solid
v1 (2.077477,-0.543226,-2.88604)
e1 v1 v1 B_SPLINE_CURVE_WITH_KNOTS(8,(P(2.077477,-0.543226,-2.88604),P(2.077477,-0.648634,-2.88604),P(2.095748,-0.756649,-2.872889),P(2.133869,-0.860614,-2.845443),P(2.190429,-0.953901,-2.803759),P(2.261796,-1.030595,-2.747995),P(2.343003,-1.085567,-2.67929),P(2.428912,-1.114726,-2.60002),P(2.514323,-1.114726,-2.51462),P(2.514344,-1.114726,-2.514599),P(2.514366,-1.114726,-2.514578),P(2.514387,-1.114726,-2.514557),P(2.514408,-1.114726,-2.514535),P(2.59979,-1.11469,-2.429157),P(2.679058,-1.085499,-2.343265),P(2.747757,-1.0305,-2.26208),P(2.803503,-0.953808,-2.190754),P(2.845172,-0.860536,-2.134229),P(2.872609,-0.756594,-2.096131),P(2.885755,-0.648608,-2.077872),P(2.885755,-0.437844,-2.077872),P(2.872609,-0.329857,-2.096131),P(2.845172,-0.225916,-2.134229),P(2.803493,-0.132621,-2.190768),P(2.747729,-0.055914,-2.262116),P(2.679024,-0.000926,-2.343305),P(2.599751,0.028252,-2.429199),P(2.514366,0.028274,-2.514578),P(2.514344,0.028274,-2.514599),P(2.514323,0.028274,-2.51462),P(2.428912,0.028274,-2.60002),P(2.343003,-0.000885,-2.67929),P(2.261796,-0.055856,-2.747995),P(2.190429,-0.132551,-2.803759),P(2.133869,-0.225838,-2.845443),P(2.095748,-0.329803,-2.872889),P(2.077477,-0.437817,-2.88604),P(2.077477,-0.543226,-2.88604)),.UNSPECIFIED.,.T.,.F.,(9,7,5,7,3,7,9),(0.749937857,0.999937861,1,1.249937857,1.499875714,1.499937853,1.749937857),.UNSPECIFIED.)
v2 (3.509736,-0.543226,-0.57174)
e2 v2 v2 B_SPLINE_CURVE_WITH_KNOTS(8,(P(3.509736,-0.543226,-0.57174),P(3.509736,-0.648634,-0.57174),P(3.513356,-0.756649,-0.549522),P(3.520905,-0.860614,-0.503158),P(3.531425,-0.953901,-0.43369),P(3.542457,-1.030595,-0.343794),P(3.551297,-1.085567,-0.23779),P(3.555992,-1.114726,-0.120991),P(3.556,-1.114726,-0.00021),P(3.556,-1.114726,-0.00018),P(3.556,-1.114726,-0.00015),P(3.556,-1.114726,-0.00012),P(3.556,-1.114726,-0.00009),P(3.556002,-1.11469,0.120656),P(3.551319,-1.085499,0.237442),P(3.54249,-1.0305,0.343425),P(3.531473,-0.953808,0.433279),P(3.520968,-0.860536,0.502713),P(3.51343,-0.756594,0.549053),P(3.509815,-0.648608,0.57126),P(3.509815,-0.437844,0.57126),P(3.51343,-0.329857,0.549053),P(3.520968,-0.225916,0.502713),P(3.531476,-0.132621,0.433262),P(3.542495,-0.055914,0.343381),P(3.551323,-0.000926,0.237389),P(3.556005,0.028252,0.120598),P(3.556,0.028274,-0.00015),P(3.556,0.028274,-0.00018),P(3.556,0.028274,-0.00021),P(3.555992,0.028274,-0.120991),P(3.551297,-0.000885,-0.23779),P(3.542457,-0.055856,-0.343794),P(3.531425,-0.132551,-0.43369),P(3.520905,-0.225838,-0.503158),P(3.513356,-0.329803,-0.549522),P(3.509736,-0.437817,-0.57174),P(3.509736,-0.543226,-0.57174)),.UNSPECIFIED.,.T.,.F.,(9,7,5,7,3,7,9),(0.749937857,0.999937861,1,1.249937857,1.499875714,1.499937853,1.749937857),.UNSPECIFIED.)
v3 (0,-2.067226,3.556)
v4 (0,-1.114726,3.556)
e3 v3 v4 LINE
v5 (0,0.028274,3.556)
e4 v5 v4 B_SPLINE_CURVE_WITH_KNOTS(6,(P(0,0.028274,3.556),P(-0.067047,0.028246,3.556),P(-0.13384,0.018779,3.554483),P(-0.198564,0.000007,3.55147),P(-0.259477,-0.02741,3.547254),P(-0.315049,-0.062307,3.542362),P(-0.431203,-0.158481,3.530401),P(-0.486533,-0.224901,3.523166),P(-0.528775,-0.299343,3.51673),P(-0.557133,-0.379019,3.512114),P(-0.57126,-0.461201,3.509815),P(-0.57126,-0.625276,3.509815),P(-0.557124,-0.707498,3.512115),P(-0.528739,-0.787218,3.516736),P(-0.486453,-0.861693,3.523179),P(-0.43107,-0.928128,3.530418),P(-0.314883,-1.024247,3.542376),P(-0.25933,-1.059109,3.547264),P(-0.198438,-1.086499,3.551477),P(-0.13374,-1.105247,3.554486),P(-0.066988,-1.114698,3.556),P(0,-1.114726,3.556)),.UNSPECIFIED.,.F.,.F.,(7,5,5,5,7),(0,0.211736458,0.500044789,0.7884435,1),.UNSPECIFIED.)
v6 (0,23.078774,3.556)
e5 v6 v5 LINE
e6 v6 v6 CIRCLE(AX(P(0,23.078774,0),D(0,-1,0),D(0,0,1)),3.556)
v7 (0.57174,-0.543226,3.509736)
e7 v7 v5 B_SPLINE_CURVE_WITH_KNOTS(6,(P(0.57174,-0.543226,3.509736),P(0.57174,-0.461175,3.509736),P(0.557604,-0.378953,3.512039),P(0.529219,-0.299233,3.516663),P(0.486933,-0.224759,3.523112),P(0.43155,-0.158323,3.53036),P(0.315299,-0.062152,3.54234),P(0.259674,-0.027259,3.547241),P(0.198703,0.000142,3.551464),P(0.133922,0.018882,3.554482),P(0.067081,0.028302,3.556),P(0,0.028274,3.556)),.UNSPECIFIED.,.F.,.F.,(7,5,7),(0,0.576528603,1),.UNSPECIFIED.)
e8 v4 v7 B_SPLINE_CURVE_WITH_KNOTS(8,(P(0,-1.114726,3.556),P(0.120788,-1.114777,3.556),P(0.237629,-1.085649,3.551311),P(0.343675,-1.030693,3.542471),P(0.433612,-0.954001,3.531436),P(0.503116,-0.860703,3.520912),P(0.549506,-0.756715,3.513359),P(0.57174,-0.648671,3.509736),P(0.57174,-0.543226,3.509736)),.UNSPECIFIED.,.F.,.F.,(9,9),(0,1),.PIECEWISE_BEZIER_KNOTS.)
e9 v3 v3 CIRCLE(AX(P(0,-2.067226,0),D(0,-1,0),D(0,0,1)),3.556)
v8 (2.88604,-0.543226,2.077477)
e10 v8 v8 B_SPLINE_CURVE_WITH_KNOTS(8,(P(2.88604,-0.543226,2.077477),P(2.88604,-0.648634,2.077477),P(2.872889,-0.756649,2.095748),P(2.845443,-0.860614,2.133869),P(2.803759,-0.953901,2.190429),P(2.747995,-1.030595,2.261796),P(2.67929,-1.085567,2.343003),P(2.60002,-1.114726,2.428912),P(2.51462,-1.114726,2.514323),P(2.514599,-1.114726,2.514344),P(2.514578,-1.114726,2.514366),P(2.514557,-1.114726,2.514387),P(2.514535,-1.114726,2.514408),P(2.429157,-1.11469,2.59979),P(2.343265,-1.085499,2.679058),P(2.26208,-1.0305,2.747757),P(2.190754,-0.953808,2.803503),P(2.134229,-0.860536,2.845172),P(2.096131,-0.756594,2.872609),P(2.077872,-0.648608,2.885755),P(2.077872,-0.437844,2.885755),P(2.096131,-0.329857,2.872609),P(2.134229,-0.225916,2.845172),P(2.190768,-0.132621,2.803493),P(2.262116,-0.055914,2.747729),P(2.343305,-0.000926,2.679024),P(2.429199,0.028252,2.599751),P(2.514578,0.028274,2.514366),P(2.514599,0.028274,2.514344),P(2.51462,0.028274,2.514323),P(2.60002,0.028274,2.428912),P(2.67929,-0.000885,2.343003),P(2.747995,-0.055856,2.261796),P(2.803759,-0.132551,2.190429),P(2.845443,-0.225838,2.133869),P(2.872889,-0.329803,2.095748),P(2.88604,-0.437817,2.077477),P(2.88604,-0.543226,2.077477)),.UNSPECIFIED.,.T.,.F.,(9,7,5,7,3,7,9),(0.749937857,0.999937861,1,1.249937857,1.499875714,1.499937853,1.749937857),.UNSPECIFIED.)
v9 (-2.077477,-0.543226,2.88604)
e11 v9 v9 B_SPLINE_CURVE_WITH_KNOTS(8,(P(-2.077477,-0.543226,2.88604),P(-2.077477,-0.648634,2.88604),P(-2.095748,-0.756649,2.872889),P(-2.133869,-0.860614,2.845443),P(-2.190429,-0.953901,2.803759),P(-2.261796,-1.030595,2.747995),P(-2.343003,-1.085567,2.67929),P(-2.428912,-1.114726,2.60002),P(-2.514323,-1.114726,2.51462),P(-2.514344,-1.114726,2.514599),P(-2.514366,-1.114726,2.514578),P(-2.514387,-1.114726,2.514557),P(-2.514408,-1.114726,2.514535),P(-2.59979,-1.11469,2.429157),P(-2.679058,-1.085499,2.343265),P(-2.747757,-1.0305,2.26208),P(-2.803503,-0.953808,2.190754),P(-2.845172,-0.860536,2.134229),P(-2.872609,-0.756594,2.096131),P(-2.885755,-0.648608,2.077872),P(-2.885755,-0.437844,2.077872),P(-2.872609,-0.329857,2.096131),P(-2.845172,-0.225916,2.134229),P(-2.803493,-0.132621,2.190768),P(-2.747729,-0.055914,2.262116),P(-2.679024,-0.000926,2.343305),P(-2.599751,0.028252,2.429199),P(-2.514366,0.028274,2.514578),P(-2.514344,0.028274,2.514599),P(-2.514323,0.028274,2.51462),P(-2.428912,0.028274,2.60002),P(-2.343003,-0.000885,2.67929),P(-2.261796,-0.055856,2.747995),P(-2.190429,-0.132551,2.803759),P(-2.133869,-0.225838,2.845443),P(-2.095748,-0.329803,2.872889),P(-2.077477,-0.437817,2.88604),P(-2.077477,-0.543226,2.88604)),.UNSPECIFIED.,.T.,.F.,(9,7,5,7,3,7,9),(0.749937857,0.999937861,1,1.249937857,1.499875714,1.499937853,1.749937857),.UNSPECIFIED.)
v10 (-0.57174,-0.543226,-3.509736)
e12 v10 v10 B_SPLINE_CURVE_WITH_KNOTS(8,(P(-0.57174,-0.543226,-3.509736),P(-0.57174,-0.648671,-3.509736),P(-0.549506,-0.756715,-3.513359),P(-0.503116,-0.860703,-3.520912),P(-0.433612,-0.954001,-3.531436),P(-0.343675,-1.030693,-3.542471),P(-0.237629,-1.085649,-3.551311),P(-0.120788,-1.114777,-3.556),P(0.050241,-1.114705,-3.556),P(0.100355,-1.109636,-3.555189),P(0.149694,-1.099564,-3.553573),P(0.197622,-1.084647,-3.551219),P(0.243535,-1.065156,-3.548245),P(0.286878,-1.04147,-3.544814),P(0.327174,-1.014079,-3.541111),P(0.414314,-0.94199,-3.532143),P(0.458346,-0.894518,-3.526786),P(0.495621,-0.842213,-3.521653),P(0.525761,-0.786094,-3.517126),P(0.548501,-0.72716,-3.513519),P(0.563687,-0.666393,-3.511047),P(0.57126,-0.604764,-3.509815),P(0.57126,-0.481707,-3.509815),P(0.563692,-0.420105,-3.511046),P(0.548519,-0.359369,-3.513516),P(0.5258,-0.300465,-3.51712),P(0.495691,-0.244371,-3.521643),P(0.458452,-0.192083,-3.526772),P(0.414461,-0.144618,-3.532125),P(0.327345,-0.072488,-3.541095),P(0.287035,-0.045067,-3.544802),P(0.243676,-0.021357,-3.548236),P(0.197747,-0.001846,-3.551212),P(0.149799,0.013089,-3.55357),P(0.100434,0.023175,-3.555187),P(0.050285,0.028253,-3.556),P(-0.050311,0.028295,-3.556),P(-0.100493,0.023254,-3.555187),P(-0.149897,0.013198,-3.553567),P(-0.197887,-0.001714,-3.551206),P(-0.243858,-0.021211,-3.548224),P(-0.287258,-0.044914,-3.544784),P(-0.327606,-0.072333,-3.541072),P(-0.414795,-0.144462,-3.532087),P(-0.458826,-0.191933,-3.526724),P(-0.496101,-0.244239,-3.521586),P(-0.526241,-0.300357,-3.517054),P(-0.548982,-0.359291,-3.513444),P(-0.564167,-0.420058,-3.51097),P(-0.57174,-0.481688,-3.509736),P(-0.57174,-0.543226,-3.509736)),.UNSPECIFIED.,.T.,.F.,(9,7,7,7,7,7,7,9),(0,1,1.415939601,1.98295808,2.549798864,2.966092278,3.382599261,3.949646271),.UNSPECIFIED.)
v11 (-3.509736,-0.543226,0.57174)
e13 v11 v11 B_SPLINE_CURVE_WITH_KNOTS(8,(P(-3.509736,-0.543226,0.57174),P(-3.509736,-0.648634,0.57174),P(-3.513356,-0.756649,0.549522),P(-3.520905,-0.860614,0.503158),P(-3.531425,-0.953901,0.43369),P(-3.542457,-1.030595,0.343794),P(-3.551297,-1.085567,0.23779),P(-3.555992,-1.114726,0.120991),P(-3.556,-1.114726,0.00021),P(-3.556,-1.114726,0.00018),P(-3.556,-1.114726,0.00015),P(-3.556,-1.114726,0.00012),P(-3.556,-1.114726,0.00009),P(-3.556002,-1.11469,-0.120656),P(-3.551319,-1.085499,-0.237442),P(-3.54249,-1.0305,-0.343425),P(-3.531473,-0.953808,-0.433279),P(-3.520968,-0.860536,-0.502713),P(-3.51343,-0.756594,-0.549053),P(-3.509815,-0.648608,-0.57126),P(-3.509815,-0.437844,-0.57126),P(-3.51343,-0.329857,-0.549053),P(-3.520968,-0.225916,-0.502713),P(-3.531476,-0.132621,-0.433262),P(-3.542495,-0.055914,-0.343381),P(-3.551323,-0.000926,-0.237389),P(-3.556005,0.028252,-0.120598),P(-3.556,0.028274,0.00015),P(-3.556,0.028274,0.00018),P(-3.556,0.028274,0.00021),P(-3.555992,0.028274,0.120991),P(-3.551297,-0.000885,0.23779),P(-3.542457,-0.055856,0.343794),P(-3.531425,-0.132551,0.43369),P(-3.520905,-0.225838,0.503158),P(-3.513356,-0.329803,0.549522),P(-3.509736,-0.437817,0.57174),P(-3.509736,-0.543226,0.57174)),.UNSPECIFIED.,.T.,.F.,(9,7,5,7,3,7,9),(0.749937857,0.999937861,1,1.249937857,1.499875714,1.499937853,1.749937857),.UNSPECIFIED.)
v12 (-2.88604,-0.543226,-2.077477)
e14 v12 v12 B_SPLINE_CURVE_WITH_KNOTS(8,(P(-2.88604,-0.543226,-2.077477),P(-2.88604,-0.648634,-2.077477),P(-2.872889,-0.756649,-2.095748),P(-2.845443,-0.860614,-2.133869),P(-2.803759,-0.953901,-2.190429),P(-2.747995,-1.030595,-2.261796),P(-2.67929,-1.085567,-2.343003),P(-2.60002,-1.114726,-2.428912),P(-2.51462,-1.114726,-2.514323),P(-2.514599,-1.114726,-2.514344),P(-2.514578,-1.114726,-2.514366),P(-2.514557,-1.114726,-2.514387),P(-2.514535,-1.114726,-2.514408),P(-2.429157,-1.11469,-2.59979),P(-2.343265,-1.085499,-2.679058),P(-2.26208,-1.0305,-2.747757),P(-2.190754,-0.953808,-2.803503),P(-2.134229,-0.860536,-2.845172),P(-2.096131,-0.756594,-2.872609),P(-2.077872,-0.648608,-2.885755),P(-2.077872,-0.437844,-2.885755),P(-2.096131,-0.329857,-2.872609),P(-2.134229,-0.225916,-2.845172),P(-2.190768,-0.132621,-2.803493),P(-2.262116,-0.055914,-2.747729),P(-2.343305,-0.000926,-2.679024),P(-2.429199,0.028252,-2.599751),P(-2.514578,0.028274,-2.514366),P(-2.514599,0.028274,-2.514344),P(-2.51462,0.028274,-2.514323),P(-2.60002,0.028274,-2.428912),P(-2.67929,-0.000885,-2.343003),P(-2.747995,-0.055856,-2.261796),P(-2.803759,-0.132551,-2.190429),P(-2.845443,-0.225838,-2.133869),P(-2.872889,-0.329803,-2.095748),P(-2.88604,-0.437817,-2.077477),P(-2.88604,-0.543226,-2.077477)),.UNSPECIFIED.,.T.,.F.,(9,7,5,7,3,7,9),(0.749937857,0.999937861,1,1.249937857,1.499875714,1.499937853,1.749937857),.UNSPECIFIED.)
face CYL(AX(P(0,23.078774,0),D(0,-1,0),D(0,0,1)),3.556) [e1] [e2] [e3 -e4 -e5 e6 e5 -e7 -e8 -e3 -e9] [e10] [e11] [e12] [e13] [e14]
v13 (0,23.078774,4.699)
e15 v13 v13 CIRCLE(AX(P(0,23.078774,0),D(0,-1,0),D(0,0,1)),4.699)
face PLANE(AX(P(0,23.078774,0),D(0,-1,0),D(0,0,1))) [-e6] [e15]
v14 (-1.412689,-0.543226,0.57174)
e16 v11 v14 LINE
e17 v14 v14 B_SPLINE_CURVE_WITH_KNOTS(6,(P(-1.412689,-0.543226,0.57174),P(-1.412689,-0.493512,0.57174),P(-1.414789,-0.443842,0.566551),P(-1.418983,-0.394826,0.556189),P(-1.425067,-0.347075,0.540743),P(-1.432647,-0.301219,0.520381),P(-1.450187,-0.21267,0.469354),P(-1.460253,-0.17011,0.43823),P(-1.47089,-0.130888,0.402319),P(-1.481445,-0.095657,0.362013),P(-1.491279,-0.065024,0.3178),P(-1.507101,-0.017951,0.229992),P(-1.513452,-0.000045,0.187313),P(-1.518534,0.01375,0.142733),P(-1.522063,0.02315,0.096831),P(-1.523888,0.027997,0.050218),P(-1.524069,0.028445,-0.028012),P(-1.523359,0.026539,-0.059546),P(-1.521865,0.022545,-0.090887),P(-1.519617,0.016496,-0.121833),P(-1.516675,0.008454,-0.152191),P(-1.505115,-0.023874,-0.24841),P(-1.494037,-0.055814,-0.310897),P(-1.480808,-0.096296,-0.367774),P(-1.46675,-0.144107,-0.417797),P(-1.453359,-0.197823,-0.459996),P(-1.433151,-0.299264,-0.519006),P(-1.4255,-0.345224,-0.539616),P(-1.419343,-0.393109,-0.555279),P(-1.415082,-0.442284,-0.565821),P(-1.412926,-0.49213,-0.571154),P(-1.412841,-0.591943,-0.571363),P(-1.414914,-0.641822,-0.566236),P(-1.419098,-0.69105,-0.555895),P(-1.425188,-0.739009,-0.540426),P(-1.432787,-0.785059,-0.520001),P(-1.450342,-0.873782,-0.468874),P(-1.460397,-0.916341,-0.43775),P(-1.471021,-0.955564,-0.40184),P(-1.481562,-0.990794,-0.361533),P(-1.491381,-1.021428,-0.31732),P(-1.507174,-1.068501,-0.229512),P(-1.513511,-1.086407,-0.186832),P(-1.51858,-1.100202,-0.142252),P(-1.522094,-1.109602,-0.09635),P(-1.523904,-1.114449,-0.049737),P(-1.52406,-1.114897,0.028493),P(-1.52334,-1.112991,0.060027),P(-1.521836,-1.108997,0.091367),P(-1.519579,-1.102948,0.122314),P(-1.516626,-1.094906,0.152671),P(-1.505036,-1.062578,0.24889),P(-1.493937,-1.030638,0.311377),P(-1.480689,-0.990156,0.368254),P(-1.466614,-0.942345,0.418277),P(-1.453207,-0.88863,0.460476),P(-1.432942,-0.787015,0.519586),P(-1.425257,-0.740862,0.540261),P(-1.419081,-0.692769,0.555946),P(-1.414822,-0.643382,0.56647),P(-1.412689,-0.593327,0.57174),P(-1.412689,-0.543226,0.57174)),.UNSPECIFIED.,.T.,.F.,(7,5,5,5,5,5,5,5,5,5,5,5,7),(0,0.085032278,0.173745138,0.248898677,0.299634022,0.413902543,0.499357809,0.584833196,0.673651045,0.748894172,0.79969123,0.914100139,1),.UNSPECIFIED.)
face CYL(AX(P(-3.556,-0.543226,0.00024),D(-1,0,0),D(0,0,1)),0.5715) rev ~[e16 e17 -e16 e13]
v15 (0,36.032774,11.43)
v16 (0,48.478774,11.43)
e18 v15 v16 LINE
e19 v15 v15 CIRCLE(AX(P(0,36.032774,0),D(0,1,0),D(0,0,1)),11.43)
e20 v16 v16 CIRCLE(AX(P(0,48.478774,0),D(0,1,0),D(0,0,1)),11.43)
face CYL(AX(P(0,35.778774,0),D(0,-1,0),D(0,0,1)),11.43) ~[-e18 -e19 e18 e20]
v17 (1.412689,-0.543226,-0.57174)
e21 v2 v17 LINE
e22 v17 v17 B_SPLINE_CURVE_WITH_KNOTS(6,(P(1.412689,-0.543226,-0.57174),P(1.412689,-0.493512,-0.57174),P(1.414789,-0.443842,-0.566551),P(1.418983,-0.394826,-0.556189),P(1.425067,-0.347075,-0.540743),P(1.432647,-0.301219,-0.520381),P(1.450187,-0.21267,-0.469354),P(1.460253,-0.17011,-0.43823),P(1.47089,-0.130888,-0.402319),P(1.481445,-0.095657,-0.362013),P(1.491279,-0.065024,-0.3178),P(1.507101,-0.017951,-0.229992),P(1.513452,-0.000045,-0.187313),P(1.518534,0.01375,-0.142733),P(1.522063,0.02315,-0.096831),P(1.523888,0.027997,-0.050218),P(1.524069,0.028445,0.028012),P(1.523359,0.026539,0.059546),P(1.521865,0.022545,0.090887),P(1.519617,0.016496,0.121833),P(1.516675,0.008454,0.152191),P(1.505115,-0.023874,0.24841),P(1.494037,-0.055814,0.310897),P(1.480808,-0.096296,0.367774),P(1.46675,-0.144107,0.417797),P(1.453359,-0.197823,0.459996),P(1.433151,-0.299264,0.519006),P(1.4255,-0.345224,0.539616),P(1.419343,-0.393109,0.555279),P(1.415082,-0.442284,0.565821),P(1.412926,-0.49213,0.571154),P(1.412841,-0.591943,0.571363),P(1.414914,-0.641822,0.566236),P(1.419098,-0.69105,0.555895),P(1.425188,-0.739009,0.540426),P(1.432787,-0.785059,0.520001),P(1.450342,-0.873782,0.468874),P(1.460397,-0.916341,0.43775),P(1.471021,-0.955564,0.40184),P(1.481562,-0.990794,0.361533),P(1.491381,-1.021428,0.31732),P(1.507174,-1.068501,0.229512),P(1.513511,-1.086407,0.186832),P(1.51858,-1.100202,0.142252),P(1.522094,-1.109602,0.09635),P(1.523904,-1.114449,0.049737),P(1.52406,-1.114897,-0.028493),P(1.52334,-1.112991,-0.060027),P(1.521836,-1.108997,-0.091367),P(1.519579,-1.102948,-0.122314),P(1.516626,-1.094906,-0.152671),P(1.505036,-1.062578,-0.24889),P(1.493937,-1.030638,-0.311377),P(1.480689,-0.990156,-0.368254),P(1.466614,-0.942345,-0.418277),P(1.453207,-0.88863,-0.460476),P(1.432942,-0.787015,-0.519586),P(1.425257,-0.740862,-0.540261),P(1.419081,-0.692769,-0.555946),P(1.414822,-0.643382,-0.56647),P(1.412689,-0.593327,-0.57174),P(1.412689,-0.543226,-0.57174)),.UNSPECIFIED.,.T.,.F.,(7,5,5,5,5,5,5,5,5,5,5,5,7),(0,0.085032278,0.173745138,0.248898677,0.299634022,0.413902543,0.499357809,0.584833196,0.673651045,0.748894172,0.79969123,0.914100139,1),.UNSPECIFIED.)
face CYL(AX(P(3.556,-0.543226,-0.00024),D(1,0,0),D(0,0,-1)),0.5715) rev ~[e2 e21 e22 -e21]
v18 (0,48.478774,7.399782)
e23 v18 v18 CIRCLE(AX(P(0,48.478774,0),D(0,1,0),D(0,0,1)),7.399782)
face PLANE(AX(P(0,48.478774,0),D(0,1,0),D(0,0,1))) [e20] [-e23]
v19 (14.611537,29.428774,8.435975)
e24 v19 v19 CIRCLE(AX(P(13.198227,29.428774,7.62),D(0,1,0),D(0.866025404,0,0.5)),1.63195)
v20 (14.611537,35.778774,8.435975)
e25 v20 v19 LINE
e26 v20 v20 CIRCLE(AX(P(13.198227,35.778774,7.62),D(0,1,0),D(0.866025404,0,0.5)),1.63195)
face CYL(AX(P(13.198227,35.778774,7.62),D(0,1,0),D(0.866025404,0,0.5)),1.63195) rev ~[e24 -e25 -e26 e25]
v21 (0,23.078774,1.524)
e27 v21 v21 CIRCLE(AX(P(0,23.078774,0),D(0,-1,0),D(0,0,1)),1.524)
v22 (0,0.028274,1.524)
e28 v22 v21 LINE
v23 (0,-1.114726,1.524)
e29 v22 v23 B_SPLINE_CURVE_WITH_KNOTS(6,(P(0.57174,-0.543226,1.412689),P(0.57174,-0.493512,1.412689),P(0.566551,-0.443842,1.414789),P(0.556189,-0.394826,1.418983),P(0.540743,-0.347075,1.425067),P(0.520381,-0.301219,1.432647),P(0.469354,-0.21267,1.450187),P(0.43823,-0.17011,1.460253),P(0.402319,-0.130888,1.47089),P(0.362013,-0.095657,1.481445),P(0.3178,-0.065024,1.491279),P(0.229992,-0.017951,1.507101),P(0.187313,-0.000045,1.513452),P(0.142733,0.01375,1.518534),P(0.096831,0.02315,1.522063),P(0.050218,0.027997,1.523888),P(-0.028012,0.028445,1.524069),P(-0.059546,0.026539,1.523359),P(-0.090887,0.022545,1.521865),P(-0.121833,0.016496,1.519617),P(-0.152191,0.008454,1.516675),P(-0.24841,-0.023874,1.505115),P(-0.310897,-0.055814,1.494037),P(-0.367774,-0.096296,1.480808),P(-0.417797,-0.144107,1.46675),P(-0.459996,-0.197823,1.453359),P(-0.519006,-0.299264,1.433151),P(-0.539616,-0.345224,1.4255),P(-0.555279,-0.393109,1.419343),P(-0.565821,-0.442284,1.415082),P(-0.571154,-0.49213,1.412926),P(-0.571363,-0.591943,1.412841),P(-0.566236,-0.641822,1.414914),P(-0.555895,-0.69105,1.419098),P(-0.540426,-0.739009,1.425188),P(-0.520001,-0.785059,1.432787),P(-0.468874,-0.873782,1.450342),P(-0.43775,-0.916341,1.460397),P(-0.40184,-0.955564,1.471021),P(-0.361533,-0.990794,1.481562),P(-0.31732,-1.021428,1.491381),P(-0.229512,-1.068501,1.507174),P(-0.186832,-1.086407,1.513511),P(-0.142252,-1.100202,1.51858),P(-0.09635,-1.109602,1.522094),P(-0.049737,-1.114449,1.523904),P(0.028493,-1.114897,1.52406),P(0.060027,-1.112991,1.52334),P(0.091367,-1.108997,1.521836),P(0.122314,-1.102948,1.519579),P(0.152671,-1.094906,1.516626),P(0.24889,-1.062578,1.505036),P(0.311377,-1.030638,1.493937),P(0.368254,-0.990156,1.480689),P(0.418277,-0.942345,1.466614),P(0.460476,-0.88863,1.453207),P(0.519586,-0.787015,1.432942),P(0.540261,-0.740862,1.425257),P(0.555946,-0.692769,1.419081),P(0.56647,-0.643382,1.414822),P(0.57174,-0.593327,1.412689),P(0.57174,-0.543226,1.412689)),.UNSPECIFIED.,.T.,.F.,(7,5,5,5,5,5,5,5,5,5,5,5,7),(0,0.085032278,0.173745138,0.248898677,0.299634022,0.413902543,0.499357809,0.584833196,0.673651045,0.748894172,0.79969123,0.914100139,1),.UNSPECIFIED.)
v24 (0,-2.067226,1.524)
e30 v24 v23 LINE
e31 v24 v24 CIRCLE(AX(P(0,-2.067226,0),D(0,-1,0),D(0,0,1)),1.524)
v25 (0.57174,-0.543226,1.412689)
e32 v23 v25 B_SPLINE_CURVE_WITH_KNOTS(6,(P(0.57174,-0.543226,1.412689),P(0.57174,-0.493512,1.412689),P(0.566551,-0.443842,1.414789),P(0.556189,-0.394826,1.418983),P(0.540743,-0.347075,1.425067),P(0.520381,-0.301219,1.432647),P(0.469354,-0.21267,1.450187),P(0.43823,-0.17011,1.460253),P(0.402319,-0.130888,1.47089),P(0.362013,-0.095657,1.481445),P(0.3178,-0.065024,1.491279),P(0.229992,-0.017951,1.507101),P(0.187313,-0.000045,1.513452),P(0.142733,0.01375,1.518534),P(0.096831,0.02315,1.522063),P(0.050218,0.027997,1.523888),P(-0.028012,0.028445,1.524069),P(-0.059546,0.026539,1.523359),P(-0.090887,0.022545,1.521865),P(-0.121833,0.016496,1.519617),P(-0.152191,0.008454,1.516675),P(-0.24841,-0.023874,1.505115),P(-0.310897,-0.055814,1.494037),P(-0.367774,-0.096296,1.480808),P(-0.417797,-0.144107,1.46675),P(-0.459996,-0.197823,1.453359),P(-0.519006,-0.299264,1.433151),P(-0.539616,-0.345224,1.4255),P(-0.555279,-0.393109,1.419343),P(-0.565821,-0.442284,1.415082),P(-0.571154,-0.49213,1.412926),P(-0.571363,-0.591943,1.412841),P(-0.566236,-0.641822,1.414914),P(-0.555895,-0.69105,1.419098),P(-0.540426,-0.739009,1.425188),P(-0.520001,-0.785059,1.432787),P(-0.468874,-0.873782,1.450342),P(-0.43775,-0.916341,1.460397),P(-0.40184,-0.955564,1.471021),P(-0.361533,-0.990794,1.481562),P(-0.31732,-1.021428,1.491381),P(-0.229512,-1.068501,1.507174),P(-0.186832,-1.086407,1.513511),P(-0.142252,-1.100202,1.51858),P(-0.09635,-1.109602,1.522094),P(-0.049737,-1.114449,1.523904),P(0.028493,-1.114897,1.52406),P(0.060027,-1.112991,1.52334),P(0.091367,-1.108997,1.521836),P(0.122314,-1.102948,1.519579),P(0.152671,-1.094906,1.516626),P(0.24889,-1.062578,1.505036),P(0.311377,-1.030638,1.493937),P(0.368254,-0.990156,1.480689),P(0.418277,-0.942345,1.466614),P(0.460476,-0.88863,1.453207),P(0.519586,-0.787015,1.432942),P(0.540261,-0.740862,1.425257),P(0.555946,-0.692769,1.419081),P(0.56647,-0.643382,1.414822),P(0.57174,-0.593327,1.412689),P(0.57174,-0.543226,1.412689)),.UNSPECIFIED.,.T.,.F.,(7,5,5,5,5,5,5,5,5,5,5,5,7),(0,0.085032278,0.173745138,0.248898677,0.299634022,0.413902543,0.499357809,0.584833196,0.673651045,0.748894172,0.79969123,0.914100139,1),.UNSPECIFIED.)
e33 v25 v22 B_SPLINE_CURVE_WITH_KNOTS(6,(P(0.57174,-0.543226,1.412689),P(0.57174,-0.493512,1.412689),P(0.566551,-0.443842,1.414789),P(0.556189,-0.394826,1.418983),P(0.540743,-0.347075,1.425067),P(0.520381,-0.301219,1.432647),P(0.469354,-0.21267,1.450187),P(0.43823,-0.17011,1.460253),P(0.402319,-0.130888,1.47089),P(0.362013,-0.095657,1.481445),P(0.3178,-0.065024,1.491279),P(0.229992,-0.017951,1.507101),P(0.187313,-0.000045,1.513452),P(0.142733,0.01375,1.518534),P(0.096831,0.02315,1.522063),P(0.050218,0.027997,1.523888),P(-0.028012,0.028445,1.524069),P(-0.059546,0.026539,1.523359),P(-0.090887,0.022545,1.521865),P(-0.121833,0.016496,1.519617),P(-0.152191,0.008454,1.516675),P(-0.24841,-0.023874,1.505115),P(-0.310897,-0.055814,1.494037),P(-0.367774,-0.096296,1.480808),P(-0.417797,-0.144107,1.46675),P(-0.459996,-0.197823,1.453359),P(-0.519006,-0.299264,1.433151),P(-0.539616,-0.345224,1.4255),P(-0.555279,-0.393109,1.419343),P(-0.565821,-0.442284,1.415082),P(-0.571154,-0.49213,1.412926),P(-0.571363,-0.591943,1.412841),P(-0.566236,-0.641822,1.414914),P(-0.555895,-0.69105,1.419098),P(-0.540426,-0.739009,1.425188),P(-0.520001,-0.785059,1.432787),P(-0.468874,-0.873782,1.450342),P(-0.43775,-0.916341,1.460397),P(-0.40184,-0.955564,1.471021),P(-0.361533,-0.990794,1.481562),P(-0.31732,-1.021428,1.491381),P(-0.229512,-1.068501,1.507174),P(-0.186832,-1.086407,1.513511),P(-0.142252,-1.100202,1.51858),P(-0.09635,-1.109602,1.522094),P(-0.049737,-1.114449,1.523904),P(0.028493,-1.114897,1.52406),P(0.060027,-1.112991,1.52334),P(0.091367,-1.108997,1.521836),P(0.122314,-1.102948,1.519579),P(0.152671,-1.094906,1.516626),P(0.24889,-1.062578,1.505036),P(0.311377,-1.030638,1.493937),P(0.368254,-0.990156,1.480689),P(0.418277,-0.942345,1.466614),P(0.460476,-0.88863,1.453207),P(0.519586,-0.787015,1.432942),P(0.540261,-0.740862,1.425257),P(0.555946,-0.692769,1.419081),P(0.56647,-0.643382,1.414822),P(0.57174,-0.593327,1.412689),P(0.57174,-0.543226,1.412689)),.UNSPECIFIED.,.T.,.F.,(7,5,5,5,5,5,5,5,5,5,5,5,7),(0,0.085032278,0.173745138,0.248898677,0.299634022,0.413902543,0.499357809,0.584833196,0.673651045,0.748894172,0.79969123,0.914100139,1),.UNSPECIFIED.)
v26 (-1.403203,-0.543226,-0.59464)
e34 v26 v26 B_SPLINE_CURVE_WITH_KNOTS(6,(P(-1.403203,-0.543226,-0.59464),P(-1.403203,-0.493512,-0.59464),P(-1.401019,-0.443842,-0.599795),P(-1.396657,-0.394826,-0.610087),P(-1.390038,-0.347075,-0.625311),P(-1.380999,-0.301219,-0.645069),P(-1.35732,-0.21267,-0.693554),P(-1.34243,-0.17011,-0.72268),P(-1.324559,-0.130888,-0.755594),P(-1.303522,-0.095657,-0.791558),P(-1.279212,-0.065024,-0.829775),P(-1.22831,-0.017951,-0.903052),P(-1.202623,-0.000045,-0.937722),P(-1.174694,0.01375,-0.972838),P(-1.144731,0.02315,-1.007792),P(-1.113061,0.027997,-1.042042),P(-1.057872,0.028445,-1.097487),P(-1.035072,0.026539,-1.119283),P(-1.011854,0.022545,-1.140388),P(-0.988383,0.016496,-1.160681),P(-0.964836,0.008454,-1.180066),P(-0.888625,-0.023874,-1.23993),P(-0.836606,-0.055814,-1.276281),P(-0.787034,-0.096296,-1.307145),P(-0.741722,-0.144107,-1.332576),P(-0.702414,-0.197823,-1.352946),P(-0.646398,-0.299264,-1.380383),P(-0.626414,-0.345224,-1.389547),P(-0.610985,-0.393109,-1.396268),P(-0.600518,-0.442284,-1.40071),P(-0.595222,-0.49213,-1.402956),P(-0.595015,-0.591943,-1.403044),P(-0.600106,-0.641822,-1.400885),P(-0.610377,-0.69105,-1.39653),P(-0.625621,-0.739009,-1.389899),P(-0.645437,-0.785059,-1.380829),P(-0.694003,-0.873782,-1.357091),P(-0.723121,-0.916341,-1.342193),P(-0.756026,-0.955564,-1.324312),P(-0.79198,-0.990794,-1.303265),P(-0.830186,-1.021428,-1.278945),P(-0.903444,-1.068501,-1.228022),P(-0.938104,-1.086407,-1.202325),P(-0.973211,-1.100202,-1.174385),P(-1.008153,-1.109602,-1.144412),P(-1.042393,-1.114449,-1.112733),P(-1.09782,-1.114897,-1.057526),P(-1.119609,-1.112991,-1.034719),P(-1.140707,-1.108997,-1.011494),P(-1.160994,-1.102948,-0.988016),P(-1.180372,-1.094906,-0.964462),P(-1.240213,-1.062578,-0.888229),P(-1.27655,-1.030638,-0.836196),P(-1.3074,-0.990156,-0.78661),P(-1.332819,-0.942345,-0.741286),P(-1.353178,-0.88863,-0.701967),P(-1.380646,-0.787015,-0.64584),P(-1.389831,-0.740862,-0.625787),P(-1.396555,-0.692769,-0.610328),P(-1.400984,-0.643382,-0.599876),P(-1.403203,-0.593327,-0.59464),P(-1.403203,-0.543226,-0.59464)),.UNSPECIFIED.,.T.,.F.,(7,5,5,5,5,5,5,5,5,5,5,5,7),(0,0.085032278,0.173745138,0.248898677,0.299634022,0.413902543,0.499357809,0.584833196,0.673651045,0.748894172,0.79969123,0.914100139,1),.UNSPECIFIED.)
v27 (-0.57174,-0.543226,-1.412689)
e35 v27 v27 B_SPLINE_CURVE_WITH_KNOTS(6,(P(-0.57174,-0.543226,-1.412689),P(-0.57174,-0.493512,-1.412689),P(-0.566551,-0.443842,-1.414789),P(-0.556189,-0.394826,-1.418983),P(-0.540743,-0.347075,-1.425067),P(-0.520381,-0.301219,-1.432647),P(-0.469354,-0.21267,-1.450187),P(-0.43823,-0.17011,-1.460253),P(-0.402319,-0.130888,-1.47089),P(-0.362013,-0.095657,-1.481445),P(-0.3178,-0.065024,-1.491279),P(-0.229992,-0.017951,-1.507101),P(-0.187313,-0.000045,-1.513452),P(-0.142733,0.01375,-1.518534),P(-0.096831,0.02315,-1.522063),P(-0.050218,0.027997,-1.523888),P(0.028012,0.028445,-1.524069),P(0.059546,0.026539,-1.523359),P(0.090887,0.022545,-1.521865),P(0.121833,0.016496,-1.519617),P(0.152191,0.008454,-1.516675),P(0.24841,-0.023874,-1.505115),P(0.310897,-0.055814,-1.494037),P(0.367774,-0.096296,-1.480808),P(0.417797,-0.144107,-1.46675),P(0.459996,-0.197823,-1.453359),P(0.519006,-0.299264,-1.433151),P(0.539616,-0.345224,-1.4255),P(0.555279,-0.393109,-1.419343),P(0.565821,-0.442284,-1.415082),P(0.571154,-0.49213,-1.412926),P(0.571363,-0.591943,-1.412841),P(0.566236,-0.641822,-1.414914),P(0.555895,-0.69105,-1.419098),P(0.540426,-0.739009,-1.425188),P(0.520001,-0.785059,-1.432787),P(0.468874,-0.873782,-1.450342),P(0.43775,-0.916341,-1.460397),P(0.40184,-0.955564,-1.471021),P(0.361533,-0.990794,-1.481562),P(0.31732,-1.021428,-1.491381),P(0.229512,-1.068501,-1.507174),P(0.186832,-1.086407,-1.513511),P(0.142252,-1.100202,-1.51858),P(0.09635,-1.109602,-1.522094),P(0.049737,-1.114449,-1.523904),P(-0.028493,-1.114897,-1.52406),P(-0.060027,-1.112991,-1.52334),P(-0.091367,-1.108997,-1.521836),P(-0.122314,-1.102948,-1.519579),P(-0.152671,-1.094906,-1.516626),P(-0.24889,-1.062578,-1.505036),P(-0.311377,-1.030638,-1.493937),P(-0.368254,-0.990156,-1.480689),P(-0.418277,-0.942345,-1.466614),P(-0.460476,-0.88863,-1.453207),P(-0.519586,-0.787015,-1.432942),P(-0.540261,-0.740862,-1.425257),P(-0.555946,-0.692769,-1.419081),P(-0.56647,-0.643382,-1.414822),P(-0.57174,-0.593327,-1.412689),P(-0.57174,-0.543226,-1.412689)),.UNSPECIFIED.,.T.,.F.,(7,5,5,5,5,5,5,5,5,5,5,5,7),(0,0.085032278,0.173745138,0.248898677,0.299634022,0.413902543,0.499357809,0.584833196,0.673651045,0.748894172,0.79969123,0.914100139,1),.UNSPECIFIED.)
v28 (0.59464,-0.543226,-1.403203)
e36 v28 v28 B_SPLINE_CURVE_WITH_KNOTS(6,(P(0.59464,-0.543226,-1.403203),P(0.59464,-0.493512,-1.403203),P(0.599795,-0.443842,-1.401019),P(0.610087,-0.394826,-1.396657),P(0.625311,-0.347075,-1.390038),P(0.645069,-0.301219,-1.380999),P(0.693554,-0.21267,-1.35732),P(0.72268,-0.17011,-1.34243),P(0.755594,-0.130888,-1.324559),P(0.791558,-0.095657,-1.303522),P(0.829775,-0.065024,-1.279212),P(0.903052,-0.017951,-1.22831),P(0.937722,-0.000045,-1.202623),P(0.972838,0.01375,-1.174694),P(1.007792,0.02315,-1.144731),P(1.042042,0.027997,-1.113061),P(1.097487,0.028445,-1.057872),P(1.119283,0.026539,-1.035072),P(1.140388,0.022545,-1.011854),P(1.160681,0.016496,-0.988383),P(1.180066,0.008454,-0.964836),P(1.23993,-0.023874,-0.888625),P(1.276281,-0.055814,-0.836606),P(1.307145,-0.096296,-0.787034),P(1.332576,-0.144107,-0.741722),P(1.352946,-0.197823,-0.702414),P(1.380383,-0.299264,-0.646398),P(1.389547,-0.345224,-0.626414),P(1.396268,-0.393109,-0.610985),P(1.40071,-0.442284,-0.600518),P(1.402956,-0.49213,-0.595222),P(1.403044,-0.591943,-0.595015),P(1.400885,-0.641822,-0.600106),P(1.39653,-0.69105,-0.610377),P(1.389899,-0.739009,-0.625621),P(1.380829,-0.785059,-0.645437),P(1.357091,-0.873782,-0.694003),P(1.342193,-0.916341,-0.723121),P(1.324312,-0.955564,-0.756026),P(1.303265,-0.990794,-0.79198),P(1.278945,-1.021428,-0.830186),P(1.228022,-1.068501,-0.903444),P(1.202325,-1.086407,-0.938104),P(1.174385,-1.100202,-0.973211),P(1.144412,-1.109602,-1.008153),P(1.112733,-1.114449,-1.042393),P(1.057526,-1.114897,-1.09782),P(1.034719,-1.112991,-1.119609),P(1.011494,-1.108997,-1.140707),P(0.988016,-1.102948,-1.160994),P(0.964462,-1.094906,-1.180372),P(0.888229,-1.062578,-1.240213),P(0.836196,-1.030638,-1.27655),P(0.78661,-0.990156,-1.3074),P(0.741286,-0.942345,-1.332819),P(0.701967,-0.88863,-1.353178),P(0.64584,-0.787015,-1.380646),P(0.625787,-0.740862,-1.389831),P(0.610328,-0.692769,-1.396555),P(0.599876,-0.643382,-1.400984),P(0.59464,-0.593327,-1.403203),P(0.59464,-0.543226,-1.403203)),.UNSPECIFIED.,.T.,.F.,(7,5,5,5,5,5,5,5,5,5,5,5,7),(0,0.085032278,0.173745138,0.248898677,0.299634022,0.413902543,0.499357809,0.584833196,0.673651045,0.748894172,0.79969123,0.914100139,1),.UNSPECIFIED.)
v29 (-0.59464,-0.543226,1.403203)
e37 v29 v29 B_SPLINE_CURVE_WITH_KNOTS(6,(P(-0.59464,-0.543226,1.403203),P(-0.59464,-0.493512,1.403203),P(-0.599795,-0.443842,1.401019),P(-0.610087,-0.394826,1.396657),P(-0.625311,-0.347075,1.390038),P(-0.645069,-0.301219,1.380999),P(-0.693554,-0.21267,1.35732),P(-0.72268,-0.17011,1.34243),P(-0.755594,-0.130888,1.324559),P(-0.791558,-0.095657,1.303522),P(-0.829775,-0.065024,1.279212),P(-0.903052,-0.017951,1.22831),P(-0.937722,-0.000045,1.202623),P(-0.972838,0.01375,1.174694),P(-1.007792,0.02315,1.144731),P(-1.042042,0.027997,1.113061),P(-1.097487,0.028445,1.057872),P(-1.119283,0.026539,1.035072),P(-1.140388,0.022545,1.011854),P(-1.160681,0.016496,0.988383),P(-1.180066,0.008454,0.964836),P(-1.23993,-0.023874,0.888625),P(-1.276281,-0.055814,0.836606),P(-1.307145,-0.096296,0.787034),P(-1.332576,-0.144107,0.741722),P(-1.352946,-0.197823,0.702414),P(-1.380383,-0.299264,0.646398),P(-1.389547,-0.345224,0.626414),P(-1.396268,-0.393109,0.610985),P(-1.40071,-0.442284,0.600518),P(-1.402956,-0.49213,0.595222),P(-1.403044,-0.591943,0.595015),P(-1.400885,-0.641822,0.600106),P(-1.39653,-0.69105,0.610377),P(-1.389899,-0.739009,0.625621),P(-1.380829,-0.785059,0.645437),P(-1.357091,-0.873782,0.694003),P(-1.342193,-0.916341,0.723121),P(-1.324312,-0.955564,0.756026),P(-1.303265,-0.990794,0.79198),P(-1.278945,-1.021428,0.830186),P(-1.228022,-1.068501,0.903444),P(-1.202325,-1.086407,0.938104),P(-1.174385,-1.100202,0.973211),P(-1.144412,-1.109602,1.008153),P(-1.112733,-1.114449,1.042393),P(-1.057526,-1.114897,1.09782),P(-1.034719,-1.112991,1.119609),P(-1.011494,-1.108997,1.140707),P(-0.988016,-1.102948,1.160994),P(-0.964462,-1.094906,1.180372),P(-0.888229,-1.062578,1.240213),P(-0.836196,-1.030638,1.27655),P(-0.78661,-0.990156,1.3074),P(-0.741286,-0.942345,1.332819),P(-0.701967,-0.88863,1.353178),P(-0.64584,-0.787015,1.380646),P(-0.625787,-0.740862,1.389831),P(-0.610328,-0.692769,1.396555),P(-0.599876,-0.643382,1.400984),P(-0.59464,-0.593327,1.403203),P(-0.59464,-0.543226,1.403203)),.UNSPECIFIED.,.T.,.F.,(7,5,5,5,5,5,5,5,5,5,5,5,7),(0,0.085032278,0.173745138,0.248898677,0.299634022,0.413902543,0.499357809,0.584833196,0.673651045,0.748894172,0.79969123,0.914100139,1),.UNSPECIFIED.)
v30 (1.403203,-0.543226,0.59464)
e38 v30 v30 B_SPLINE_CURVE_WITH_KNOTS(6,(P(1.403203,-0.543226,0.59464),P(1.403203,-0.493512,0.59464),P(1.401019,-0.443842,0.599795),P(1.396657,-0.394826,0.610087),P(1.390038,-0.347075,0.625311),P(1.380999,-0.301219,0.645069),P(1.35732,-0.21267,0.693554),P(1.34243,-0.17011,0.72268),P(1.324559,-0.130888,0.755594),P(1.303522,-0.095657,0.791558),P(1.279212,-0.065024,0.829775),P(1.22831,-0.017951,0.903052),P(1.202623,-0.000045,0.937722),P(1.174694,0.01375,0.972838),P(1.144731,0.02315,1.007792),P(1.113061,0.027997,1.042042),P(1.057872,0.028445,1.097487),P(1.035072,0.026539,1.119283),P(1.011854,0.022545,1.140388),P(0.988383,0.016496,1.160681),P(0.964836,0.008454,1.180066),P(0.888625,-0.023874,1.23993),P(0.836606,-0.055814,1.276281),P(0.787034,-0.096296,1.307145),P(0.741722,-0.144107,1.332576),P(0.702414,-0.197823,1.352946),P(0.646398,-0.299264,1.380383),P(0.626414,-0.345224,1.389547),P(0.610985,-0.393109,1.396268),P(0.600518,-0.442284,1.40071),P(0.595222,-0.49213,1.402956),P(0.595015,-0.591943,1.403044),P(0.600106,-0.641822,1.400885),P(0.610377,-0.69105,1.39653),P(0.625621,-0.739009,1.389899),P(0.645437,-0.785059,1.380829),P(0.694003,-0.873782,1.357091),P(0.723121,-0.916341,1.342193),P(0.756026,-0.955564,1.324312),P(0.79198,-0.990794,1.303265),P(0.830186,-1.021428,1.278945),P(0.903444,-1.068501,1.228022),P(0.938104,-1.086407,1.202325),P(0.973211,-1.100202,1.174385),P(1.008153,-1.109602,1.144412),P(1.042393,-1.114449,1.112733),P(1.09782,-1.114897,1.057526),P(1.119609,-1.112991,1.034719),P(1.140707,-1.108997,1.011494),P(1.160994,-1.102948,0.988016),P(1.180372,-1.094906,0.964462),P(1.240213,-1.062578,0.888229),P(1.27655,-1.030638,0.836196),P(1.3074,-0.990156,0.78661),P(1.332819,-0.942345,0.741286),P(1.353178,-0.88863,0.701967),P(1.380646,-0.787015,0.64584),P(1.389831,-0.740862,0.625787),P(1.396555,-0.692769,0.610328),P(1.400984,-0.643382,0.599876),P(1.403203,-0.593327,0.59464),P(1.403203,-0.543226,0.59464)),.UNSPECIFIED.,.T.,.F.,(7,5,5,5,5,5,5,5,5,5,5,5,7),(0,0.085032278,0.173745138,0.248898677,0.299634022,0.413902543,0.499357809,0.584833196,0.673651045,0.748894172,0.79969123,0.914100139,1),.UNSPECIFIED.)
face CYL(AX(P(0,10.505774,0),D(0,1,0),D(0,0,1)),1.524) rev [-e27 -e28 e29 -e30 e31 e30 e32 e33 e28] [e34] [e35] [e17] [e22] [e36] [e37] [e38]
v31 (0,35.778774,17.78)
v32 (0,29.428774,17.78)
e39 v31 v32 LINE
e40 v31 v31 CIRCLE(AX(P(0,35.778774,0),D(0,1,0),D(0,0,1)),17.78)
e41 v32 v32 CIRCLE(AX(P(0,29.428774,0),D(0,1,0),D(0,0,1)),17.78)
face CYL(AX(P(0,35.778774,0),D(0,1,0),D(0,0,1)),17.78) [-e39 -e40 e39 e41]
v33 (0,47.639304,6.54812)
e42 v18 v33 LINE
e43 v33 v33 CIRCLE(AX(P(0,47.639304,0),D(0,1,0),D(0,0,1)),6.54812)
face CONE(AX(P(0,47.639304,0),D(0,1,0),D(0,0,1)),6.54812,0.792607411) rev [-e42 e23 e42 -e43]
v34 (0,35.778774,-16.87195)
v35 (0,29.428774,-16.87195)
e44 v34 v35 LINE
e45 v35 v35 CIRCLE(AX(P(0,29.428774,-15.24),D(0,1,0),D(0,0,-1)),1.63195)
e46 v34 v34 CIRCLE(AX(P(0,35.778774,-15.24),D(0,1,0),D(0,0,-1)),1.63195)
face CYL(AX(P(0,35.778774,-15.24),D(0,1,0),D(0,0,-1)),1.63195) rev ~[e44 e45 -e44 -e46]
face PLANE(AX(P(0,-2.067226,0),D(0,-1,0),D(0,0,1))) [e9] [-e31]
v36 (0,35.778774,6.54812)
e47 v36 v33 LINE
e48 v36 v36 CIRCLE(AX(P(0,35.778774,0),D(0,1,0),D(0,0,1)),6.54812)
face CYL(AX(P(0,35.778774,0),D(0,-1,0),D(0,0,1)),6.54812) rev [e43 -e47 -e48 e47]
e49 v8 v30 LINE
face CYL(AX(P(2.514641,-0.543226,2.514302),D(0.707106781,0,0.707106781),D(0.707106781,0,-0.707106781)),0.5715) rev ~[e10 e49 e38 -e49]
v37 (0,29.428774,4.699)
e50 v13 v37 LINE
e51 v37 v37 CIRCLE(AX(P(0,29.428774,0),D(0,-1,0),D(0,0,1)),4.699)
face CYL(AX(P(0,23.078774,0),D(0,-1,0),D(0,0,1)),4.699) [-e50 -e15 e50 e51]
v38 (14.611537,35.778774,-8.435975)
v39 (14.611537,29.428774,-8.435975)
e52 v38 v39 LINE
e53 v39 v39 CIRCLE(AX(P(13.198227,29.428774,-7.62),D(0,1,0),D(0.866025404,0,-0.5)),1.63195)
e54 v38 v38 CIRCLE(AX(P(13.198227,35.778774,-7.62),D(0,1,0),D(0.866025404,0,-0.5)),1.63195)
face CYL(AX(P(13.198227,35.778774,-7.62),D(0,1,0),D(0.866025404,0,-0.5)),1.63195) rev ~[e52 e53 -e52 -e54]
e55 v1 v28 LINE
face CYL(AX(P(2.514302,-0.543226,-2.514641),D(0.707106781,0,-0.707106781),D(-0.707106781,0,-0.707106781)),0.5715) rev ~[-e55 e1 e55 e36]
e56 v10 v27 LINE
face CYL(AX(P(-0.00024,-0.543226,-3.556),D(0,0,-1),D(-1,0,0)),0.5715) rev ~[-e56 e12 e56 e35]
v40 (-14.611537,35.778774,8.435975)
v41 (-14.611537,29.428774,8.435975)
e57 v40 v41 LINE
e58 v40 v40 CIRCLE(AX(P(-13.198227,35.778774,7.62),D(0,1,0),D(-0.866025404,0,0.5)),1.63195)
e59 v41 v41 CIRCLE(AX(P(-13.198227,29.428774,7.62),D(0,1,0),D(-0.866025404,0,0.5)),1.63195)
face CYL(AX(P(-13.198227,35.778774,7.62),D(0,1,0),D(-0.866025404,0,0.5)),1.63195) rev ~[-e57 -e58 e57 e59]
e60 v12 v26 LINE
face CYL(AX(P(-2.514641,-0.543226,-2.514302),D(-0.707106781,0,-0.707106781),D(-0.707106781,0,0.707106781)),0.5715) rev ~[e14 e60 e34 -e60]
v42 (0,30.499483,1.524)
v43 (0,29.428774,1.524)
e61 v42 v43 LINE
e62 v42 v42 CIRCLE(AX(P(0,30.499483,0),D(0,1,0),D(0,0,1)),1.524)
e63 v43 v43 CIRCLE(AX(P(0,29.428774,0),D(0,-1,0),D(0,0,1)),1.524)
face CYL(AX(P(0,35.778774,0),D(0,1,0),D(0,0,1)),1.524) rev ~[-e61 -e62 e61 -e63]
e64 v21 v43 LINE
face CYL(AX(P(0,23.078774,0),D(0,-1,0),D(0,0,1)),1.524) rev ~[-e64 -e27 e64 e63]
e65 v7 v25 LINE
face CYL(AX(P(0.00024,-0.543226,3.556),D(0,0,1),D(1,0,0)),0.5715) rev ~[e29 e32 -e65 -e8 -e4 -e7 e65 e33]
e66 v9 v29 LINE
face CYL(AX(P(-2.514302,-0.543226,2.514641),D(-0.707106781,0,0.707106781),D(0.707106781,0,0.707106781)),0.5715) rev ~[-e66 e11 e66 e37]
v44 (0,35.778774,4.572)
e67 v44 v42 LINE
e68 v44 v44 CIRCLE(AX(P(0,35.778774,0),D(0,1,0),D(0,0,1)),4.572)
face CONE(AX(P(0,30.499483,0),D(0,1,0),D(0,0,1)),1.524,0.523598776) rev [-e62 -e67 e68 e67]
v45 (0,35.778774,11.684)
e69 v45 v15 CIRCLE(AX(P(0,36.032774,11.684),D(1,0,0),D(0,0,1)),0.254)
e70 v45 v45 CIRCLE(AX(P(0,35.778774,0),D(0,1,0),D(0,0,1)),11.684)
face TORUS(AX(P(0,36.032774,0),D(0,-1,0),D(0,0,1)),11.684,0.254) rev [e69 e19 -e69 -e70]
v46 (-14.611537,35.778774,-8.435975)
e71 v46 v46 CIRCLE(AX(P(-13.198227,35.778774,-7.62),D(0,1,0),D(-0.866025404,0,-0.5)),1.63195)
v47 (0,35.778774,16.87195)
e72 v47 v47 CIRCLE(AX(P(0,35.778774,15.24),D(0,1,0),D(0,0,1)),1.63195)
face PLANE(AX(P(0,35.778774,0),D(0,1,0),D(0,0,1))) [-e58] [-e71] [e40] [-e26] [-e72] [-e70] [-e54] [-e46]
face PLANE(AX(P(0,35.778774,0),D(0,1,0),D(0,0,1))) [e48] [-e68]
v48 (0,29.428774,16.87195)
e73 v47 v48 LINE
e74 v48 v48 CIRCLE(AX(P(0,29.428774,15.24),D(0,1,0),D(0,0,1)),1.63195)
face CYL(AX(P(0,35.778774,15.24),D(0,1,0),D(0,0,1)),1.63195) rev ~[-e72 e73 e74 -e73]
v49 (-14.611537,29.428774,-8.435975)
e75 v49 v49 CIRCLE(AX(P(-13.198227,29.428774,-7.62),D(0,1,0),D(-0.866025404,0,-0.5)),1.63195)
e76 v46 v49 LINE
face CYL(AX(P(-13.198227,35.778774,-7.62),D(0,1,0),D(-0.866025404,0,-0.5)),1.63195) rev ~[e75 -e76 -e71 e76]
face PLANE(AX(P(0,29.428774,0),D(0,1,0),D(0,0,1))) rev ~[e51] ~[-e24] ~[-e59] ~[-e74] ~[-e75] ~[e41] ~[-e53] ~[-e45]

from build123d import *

# Parameters (mm, degrees)
SKETCH1_W               = 2.032
SKETCH1_H               = 25.146
CUT_EXTRUDE1_REACH      = 26.41
CUT_EXTRUDE1_END_RADIUS = 1.524
SKETCH2_R               = 0.5715
CIRPATTERN1_COUNT       = 8
SKETCH3_R               = 3.556
SKETCH3_R_2             = 1.524
BOSS_EXTRUDE1_DEPTH     = 6.35
BOSS_EXTRUDE2_START     = 6.35
SKETCH4_R               = 17.78
SKETCH4_R_2             = 1.524
BOSS_EXTRUDE2_DEPTH     = 6.35
CUT_EXTRUDE2_REACH      = 47.438
SKETCH11_R              = 1.63195
CIRPATTERN2_COUNT       = 6
CHAMFER1_SIZE           = 3.048
CHAMFER1_SIZE2          = 5.279290861
SKETCH13_R              = 11.43
SKETCH13_R_2            = 6.54812
BOSS_EXTRUDE4_DEPTH     = 12.7
FILLET4_R               = 0.254
CHAMFER2_SIZE           = 0.851662
CHAMFER2_SIZE2          = 0.83947
BOSS_EXTRUDE5_START     = 6.35
SKETCH15_R              = 4.699
SKETCH15_R_2            = 3.556
BOSS_EXTRUDE5_DEPTH     = 6.35


with BuildPart() as part:
    # Sketch1 → Revolve2 (revolve)
    with BuildSketch(Plane.XY, mode=Mode.PRIVATE) as revolve2_sk:
        with Locations((-2.54, 10.505774136)):
            Rectangle(SKETCH1_W, SKETCH1_H)
    revolve(revolve2_sk.sketch.rotate(Axis((0, 8.215698649, 0), (0, -1, 0)), 270), axis=Axis((0, 8.215698649, 0), (0, -1, 0)))

    # Cut-Extrude1: up to this cylinder (the profile starts outside it)
    cut_extrude1_end = Plane(origin=(0, -0.543226, 0), z_dir=(0, 1, 0)) * Cylinder(CUT_EXTRUDE1_END_RADIUS, 56.868, mode=Mode.PRIVATE)
    # Sketch2 → Cut-Extrude1 (cut, up to the surface)
    with BuildSketch(Plane.ZY.offset(3.556), mode=Mode.PRIVATE) as cut_extrude1_sk1:
        with Locations((0.000240101, -0.543225864)):
            Circle(SKETCH2_R)
    cut_extrude1_tool1 = extrude(cut_extrude1_sk1.sketch, amount=-CUT_EXTRUDE1_REACH, mode=Mode.PRIVATE) - cut_extrude1_end
    cut_extrude1 = cut_extrude1_tool1.solids().sort_by_distance((-3.556, -0.543226, 0.00024))[0]
    add(cut_extrude1, mode=Mode.SUBTRACT)

    # CirPattern1: Cut-Extrude1 ×8 about axis
    cirpattern1_axis = Axis((0, -2.067225864, 0), (0, 1, 0))
    for i in range(1, CIRPATTERN1_COUNT):
        add(cut_extrude1.rotate(cirpattern1_axis, i * 360 / CIRPATTERN1_COUNT), mode=Mode.SUBTRACT)

    # Sketch3 → Boss-Extrude1 (add)
    with BuildSketch(Plane(origin=(0, 23.078774136, 0), x_dir=(-1, 0, 0), z_dir=(0, -1, 0))):
        with Locations(Location((0, 0, 0), (0, 0, 270))):
            Circle(SKETCH3_R)
        with Locations(Location((0, 0, 0), (0, 0, 270))):
            Circle(SKETCH3_R_2, mode=Mode.SUBTRACT)
    extrude(amount=-BOSS_EXTRUDE1_DEPTH)

    # Sketch4 → Boss-Extrude2 (add)
    with BuildSketch(Plane(origin=(0, 29.428774136, 0), x_dir=(1, 0, 0), z_dir=(0, 1, 0)).offset(BOSS_EXTRUDE2_START)):
        with Locations(Location((0, 0, 0), (0, 0, 270))):
            Circle(SKETCH4_R)
        with Locations(Location((0, 0, 0), (0, 0, 270))):
            Circle(SKETCH4_R_2, mode=Mode.SUBTRACT)
    extrude(amount=-BOSS_EXTRUDE2_DEPTH)

    # Sketch11 → Cut-Extrude2 (cut, up to next)
    with BuildSketch(Plane(origin=(0, 35.778774136, 0), x_dir=(1, 0, 0), z_dir=(0, 1, 0)), mode=Mode.PRIVATE) as cut_extrude2_sk1:
        with Locations(Location((0, -15.24, 0), (0, 0, 270))):
            Circle(SKETCH11_R)
    cut_extrude2_tool1 = extrude(cut_extrude2_sk1.sketch, amount=-CUT_EXTRUDE2_REACH, mode=Mode.PRIVATE) & part.part
    cut_extrude2 = cut_extrude2_tool1.solids().sort_by_distance((0, 35.778774, 15.24))[0]
    add(cut_extrude2, mode=Mode.SUBTRACT)

    # CirPattern2: Cut-Extrude2 ×6 about axis
    cirpattern2_axis = Axis((0, 0, 0), (0, 1, 0))
    for i in range(1, CIRPATTERN2_COUNT):
        add(cut_extrude2.rotate(cirpattern2_axis, i * 360 / CIRPATTERN2_COUNT), mode=Mode.SUBTRACT)

    # Chamfer1
    chamfer1_edges = [part.edges().sort_by_distance(p)[0] for p in [
        (0, 35.778774136, -1.524),
    ]]
    chamfer1_side = [part.faces().sort_by_distance(p)[0] for p in [
        (0, 35.778774136, -17.277105657),
    ]]
    chamfer(chamfer1_edges, length=CHAMFER1_SIZE, length2=CHAMFER1_SIZE2, reference=chamfer1_side[0])

    # Sketch13 → Boss-Extrude4 (add)
    with BuildSketch(Plane(origin=(0, 35.778774136, 0), x_dir=(1, 0, 0), z_dir=(0, 1, 0))):
        with Locations(Location((0, 0, 0), (0, 0, 270))):
            Circle(SKETCH13_R)
        with Locations(Location((0, 0, 0), (0, 0, 270))):
            Circle(SKETCH13_R_2, mode=Mode.SUBTRACT)
    extrude(amount=BOSS_EXTRUDE4_DEPTH)

    # Fillet4
    fillet4_edges = [part.edges().sort_by_distance(p)[0] for p in [
        (0, 35.778774136, -11.43),
    ]]
    fillet(fillet4_edges, radius=FILLET4_R)

    # Chamfer2
    chamfer2_edges = [part.edges().sort_by_distance(p)[0] for p in [
        (0, 48.478774136, -6.54812),
    ]]
    chamfer2_side = [part.faces().sort_by_distance(p)[0] for p in [
        (0, 48.478774136, -11.10671078),
    ]]
    chamfer(chamfer2_edges, length=CHAMFER2_SIZE, length2=CHAMFER2_SIZE2, reference=chamfer2_side[0])

    # Sketch15 → Boss-Extrude5 (add)
    with BuildSketch(Plane.XZ.offset(-29.428774136).offset(BOSS_EXTRUDE5_START)):
        with Locations(Location((0, 0, 0), (0, 0, 90))):
            Circle(SKETCH15_R)
        with Locations(Location((0, 0, 0), (0, 0, 90))):
            Circle(SKETCH15_R_2, mode=Mode.SUBTRACT)
    extrude(amount=-BOSS_EXTRUDE5_DEPTH)


solid = part.part
